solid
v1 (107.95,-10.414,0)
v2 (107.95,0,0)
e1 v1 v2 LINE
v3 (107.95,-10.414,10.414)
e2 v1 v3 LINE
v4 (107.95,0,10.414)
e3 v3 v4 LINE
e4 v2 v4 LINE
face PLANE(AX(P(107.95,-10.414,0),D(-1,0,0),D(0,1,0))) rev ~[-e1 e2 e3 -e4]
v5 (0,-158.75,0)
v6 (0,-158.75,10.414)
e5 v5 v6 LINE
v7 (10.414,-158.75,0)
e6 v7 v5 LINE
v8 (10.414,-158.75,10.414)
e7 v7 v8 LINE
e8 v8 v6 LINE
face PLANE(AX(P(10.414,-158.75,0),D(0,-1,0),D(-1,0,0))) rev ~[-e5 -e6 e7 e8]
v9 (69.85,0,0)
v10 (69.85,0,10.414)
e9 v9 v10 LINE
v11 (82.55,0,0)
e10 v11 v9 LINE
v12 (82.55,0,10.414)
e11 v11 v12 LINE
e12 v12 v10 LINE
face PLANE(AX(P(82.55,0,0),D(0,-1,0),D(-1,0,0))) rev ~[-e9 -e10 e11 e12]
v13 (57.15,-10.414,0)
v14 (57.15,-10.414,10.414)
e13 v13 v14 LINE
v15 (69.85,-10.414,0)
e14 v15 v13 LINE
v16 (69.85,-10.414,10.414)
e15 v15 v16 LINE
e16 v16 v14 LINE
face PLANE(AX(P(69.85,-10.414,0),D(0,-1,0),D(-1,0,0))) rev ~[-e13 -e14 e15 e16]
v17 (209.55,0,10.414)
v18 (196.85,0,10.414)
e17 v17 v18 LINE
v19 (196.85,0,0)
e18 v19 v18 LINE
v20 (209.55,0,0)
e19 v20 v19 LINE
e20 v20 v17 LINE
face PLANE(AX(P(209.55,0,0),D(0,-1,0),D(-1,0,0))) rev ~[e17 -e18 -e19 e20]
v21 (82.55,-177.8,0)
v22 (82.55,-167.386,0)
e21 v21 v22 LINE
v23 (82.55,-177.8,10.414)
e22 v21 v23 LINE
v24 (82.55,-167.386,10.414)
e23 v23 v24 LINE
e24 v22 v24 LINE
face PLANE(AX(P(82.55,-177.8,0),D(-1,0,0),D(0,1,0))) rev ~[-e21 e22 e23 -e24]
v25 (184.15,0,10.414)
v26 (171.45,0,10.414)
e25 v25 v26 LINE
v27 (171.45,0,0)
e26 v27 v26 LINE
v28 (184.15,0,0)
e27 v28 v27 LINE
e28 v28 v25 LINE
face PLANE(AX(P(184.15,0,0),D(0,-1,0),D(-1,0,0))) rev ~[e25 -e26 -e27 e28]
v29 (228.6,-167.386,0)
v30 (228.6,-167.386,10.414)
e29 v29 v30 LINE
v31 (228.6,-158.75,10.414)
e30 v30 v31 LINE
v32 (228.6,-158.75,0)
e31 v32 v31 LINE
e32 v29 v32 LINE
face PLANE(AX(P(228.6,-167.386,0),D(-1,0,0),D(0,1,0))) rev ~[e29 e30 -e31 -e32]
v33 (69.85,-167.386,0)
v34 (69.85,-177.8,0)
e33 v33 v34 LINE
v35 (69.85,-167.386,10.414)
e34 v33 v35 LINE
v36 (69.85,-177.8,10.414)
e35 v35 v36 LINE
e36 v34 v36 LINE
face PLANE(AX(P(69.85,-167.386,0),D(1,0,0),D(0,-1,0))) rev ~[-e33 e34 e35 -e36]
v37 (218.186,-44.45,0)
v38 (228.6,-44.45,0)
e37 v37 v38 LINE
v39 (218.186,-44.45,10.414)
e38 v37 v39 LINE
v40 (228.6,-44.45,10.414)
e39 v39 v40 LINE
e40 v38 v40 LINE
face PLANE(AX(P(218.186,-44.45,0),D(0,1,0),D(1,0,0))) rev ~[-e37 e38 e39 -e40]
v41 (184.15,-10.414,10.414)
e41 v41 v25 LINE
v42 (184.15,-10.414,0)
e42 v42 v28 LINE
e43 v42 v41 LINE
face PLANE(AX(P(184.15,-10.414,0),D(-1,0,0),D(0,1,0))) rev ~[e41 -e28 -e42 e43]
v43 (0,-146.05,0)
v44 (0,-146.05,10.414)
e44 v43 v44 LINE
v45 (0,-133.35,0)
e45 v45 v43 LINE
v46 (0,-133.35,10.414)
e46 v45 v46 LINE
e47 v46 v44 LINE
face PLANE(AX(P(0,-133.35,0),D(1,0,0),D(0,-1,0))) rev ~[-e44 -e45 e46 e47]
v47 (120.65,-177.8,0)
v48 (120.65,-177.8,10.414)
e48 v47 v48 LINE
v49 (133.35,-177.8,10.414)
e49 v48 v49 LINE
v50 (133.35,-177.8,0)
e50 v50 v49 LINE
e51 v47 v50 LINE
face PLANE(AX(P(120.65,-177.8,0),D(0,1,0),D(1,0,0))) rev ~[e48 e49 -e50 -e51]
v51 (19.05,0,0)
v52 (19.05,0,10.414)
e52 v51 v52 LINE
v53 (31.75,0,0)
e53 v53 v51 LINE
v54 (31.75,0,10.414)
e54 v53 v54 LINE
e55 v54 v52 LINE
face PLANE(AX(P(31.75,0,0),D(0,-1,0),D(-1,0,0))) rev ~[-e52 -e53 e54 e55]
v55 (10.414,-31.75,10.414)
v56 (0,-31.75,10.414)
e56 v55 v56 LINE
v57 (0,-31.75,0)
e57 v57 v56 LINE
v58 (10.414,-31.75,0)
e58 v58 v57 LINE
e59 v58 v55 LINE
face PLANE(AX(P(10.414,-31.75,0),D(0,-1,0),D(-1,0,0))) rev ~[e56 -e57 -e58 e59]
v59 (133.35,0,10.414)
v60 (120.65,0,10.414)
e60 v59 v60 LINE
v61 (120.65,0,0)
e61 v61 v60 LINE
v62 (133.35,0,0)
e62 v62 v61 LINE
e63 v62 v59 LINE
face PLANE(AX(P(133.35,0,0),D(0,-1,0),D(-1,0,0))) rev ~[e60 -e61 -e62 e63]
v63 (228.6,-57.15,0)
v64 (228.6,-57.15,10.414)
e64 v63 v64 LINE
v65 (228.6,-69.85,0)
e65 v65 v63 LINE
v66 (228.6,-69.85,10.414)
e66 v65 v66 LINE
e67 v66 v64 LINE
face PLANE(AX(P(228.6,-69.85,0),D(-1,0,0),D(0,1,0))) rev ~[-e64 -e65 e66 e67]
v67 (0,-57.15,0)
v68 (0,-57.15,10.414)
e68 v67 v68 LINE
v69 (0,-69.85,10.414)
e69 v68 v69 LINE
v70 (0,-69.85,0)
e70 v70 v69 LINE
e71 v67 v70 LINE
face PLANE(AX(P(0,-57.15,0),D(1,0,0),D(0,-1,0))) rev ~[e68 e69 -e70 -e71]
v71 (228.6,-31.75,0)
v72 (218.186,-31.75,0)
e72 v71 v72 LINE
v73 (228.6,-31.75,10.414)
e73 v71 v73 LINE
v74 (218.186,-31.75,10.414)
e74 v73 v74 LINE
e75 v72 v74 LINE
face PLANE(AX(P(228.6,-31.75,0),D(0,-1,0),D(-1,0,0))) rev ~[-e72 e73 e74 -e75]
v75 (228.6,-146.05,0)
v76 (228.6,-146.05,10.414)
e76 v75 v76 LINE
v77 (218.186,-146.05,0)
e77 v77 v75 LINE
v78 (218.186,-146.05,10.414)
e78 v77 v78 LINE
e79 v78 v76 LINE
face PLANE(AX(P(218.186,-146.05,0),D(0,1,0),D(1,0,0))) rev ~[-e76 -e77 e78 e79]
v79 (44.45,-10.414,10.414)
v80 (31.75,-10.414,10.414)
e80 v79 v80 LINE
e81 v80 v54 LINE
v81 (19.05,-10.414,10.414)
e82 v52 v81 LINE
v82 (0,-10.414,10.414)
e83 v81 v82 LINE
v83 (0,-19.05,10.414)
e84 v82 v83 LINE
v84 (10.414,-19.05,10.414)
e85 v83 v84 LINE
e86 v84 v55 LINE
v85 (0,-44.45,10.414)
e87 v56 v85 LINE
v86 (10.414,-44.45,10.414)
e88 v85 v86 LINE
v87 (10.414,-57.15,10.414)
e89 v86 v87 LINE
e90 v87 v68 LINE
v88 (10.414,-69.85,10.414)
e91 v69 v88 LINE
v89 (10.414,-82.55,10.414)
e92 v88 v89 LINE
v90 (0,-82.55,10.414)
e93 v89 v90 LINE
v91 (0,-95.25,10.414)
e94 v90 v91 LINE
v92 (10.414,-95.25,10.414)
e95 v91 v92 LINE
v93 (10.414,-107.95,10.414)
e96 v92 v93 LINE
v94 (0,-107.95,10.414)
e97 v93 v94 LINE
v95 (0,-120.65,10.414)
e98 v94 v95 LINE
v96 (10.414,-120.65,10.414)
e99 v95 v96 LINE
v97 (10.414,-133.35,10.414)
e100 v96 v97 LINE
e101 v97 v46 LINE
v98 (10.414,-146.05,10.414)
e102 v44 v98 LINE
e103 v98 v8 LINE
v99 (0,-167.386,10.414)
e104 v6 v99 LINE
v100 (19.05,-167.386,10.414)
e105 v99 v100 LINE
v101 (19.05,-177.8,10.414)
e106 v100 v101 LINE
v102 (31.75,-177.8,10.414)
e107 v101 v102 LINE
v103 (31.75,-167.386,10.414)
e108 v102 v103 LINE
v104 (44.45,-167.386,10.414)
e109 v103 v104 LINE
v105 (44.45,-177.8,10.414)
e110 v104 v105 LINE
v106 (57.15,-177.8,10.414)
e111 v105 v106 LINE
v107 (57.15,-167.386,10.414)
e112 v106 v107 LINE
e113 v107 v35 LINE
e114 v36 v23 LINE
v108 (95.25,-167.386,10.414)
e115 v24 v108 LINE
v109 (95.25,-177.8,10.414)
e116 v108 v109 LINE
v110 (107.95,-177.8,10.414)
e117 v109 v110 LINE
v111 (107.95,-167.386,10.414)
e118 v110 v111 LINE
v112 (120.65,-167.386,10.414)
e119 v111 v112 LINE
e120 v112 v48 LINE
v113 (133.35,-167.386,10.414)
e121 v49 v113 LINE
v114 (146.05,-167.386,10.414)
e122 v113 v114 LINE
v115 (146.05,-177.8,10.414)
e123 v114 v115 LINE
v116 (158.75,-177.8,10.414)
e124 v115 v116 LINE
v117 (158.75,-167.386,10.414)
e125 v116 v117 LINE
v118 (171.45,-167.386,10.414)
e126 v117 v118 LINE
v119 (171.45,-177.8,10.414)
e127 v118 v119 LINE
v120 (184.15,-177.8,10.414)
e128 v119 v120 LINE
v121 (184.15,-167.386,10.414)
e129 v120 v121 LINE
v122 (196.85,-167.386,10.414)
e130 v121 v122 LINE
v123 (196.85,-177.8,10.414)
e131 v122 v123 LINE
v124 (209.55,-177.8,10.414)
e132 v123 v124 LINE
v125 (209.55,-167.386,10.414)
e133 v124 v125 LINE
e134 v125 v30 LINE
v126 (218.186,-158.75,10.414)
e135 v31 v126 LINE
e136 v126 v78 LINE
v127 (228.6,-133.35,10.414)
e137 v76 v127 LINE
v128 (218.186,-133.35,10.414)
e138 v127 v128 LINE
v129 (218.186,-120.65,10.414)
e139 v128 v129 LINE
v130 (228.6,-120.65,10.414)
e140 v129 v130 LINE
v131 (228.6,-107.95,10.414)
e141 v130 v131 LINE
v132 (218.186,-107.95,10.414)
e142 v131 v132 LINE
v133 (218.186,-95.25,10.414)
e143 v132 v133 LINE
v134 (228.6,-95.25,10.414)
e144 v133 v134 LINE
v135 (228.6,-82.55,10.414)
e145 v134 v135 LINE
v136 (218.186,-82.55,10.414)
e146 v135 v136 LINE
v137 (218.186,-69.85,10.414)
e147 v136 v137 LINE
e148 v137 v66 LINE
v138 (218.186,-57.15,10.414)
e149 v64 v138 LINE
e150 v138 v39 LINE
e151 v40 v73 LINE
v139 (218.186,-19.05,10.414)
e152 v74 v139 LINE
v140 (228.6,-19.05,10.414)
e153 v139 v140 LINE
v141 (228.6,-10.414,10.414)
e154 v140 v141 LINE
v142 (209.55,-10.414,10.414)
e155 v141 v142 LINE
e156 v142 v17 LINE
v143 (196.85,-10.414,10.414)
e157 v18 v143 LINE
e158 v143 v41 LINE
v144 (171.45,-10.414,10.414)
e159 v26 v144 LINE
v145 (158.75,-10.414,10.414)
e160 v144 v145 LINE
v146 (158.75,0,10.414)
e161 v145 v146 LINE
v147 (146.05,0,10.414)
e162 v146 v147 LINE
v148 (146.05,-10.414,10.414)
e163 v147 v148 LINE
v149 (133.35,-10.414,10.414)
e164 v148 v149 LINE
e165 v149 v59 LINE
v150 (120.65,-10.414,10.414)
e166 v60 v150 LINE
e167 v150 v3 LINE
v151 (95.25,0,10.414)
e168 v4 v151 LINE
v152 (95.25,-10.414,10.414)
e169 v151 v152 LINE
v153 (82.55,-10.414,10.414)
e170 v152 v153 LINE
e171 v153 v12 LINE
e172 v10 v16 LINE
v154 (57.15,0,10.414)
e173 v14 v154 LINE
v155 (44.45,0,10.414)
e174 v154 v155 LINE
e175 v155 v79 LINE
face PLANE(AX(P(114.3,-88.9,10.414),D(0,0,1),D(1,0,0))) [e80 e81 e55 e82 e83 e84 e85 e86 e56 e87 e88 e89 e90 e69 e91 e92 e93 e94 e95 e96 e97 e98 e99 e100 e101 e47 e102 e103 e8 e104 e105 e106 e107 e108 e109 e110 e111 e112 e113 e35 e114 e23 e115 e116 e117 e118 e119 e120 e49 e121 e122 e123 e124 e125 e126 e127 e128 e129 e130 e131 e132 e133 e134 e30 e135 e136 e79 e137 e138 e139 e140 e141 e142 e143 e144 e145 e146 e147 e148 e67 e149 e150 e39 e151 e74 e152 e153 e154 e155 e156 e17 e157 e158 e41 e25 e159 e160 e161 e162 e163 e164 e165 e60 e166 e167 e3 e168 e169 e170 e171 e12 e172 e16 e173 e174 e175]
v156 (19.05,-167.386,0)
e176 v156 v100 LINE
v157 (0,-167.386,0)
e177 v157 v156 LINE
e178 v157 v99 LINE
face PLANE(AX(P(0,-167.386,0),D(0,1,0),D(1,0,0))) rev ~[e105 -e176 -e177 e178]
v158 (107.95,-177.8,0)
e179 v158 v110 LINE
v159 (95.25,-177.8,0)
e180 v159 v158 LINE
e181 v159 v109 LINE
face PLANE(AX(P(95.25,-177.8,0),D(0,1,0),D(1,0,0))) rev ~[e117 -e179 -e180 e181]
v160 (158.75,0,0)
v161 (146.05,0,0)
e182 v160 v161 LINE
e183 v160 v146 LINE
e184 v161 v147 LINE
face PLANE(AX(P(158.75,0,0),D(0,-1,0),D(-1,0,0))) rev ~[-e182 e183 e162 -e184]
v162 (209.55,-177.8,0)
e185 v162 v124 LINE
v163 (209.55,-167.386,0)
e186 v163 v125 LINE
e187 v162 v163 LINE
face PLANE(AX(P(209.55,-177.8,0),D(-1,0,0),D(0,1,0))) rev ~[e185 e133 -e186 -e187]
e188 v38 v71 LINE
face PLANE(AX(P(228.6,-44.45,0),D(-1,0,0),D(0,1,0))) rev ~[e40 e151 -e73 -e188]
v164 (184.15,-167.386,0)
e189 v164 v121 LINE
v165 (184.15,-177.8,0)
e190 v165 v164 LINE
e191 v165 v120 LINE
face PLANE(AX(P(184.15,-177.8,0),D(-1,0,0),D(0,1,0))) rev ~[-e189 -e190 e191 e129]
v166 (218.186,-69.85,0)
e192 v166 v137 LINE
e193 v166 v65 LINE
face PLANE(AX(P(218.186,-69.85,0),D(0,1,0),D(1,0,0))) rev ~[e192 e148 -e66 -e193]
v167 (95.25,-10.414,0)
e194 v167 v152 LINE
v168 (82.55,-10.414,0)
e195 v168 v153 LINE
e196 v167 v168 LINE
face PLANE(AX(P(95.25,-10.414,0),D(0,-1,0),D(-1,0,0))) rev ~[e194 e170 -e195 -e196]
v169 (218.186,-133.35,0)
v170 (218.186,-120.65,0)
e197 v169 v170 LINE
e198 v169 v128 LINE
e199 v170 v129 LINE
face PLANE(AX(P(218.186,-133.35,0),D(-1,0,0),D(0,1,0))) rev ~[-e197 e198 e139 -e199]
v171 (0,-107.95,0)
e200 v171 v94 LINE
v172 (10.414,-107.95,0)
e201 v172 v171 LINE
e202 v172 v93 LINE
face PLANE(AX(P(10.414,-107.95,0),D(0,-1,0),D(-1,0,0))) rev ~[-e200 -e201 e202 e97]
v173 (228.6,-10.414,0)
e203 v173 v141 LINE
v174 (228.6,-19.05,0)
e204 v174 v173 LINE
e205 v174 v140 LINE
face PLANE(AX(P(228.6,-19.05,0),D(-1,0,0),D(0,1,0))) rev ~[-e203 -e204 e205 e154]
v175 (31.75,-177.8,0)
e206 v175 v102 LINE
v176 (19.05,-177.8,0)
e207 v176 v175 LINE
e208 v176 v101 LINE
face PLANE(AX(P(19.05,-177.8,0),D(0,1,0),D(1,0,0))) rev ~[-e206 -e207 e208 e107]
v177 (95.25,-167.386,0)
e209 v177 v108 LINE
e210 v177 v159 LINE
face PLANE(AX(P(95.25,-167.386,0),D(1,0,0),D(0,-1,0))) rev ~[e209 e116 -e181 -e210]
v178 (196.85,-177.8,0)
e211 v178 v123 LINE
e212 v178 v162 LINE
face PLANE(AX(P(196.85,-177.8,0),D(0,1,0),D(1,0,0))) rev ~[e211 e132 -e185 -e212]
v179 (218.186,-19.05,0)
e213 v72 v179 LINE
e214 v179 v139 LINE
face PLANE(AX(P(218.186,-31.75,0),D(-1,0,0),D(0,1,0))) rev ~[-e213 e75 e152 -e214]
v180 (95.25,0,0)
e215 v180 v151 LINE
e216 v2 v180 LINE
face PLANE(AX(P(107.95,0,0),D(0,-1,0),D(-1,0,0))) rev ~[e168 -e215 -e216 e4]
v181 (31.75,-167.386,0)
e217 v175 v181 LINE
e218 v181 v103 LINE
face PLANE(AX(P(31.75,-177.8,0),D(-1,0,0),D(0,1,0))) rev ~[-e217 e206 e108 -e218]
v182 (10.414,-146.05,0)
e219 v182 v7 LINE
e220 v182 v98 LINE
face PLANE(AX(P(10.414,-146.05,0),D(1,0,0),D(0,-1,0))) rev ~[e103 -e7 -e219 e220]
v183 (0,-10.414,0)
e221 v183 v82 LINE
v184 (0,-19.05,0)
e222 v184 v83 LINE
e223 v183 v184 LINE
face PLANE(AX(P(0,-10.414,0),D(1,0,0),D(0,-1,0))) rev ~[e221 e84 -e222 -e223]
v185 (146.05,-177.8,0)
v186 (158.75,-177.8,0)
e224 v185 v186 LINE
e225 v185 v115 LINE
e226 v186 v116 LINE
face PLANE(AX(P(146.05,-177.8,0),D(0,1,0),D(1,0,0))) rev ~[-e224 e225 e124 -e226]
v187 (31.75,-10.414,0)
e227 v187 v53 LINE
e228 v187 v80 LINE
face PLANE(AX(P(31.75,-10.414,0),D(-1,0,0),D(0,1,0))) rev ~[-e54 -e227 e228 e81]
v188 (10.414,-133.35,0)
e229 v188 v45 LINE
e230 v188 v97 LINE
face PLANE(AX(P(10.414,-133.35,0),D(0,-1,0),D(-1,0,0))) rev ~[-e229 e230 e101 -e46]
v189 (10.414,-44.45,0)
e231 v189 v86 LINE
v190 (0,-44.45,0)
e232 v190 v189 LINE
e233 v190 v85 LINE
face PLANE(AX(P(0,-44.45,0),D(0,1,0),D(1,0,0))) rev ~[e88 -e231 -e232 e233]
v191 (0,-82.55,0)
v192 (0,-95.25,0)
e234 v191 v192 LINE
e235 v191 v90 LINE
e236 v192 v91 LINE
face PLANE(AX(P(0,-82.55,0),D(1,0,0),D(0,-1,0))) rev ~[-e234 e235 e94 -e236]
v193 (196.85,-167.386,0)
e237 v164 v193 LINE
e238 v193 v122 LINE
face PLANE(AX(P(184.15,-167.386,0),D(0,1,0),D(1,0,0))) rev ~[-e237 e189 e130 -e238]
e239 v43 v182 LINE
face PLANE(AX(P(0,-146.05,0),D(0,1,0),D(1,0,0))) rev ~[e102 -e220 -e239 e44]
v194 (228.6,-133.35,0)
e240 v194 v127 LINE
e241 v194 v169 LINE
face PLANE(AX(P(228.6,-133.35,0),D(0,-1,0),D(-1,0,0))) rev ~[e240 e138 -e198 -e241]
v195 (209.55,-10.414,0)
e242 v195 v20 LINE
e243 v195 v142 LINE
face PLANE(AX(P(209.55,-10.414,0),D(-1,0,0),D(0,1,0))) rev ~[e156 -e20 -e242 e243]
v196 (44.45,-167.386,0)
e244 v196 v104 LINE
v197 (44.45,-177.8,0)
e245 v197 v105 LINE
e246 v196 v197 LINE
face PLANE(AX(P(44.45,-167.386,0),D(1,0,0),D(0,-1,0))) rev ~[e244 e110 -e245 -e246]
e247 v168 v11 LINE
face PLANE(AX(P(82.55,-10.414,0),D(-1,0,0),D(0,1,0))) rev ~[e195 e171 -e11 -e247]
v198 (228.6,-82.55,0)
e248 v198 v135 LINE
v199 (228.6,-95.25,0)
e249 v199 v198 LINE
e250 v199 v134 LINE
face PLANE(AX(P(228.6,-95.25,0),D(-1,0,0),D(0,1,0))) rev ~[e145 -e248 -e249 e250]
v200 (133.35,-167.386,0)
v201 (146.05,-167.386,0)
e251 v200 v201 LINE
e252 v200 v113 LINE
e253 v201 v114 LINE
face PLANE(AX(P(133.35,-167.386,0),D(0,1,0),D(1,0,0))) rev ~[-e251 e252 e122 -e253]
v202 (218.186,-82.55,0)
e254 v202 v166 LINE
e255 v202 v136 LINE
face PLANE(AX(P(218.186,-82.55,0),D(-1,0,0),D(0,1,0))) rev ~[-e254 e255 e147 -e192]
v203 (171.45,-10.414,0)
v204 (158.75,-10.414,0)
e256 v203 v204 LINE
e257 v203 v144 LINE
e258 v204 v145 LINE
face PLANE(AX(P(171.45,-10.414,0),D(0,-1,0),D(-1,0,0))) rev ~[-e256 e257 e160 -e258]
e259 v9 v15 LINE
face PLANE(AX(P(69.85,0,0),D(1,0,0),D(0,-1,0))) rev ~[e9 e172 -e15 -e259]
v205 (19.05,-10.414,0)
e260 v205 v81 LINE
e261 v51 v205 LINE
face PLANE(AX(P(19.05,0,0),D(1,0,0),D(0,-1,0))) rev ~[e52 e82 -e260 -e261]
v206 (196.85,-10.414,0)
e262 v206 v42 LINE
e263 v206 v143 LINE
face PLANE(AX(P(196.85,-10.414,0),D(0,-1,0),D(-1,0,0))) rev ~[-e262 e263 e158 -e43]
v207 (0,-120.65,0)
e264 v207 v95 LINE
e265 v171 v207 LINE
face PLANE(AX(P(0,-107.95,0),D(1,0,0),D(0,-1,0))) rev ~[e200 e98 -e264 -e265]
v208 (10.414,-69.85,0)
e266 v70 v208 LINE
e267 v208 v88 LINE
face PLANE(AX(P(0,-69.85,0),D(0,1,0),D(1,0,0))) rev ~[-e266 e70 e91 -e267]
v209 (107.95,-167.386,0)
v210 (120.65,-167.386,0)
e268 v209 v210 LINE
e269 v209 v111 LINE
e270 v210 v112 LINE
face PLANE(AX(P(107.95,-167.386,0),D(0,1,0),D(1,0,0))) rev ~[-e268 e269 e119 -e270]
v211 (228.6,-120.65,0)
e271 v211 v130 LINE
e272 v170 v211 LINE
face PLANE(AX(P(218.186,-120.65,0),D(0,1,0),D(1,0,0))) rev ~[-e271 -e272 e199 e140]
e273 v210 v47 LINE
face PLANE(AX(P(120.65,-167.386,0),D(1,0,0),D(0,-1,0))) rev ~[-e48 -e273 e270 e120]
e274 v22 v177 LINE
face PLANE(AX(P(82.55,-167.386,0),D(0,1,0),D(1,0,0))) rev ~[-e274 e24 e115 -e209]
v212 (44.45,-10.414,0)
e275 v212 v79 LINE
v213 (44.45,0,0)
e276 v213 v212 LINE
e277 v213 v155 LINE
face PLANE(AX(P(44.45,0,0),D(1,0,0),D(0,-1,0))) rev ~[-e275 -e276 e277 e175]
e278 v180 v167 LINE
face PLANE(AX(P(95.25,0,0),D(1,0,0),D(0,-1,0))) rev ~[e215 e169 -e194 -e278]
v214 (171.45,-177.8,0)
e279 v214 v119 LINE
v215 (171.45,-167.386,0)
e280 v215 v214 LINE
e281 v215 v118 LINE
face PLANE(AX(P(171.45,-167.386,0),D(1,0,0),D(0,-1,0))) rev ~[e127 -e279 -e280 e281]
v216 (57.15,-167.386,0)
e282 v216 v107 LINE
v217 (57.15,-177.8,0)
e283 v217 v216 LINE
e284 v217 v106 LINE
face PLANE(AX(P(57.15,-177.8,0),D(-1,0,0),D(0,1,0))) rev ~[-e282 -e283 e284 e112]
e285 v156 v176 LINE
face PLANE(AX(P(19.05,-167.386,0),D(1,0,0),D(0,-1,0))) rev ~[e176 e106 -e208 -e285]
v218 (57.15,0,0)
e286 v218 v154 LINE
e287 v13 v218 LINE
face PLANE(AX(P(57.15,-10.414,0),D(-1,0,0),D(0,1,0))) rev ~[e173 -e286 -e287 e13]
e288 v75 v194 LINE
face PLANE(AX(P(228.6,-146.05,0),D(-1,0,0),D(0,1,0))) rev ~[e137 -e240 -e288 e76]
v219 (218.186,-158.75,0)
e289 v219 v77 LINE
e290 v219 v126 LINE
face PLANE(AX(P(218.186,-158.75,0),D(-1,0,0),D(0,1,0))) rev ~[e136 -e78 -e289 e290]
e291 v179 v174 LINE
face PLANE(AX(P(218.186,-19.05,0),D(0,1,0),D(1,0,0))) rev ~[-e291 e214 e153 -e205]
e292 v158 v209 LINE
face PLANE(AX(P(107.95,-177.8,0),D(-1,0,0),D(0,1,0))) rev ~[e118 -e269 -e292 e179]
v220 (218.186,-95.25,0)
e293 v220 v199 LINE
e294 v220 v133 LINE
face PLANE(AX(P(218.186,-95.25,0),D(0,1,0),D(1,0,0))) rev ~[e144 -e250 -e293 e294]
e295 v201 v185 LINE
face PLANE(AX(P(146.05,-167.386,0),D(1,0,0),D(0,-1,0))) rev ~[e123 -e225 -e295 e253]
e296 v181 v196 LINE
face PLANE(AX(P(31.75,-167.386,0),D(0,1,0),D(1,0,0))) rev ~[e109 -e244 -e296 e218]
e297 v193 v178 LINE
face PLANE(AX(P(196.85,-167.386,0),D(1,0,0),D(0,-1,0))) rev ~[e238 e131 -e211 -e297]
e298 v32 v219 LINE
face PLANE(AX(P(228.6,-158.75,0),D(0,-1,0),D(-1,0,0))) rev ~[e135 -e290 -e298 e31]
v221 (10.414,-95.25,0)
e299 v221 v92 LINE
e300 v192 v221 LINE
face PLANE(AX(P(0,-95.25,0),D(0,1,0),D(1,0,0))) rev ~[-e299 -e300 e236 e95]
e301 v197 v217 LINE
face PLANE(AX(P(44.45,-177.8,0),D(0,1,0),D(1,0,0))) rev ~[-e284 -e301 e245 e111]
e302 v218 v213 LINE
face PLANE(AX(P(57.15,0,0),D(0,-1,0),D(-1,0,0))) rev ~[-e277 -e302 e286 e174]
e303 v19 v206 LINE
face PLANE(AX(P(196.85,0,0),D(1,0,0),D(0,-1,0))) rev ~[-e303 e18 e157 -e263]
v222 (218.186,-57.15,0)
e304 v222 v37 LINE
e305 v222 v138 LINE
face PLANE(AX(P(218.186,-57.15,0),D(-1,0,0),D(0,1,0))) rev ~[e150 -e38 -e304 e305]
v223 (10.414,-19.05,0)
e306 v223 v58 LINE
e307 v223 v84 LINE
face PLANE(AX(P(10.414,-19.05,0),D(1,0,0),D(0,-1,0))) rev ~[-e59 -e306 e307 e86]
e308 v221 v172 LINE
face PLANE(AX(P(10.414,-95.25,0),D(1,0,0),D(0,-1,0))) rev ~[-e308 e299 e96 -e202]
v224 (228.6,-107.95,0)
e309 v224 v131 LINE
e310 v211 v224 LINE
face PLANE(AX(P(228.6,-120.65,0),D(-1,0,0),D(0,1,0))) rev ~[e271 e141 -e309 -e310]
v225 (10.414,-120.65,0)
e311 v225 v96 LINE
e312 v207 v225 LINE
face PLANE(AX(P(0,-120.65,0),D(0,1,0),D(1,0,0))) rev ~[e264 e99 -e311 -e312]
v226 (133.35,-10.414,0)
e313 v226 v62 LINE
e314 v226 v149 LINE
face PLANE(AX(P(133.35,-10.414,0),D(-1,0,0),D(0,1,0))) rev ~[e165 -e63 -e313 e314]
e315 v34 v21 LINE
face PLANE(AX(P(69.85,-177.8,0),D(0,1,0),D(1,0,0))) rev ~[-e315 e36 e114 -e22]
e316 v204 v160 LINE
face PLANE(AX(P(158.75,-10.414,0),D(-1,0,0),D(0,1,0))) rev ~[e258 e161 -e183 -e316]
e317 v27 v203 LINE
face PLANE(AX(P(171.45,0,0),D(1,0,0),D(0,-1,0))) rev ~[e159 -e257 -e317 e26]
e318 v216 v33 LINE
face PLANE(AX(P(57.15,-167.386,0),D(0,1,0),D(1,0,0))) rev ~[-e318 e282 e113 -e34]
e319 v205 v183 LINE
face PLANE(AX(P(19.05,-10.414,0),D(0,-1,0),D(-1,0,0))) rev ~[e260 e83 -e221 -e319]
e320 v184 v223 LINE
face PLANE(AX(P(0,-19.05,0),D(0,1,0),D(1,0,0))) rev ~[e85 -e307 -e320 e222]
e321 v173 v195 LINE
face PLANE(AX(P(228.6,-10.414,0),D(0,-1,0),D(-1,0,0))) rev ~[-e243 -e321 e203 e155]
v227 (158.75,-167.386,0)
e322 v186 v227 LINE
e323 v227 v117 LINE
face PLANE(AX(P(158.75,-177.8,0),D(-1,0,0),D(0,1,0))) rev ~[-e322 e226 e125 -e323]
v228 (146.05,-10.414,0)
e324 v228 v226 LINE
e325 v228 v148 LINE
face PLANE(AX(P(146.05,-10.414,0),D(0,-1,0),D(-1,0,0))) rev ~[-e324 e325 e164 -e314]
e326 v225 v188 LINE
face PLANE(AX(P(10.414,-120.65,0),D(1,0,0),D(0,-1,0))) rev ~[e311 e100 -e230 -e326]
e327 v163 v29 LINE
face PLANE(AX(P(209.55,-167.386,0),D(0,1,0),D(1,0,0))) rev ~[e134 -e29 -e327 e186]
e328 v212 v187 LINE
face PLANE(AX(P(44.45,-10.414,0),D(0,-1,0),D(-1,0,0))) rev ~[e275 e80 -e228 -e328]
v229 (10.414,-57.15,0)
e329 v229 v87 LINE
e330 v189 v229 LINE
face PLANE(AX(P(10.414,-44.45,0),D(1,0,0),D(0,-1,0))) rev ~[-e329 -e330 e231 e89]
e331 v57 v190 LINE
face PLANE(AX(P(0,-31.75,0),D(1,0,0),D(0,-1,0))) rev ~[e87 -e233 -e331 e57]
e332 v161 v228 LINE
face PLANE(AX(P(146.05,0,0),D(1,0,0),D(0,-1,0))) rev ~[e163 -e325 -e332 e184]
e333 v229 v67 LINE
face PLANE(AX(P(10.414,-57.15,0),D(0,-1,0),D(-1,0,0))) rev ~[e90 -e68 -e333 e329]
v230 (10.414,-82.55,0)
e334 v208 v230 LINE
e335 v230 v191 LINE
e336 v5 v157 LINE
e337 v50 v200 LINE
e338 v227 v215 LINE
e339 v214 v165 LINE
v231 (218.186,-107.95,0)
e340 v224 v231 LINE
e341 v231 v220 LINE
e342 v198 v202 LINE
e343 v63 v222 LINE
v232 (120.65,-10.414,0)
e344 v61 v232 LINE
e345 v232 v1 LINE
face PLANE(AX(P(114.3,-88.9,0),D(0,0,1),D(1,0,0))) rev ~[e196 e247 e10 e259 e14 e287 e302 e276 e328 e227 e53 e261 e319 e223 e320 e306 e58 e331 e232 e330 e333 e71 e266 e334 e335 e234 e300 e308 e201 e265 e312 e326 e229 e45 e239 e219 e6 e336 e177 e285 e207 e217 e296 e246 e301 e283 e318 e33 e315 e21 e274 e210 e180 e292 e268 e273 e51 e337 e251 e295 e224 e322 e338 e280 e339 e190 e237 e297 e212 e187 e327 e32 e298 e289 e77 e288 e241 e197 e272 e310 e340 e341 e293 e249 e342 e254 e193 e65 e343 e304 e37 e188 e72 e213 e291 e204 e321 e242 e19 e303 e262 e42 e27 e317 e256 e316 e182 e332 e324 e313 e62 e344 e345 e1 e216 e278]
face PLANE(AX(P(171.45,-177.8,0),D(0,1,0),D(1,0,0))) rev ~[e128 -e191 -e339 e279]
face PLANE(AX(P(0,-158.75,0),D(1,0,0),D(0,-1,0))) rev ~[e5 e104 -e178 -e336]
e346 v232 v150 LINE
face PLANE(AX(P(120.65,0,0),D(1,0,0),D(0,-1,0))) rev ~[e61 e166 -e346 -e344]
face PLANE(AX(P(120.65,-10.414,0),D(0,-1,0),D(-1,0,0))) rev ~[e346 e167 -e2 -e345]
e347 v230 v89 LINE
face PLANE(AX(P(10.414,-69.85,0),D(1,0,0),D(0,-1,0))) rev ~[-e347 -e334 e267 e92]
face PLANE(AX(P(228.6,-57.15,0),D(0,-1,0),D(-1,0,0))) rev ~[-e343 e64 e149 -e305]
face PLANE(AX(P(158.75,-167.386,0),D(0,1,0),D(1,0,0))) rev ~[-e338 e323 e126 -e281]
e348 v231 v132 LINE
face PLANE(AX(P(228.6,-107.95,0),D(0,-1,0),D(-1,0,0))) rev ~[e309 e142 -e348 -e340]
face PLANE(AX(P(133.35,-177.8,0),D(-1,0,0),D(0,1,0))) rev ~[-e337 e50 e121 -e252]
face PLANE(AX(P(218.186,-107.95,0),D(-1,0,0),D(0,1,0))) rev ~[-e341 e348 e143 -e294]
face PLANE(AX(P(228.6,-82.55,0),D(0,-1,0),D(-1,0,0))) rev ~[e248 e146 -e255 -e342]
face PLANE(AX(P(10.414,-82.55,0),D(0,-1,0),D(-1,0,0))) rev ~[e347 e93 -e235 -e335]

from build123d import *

# Parameters (mm, degrees)
F1_DEPTH = 10.414


with BuildPart() as f1:
    # F0 (on Top) → F1 (new body)
    with BuildSketch(Plane.XY):
        Polygon((31.75, 0), (19.05, 0), (19.05, -10.414), (0, -10.414), (0, -19.05), (10.414, -19.05), (10.414, -31.75), (0, -31.75), (0, -44.45), (10.414, -44.45), (10.414, -57.15), (0, -57.15), (0, -69.85), (10.414, -69.85), (10.414, -82.55), (0, -82.55), (0, -95.25), (10.414, -95.25), (10.414, -107.95), (0, -107.95), (0, -120.65), (10.414, -120.65), (10.414, -133.35), (0, -133.35), (0, -146.05), (10.414, -146.05), (10.414, -158.75), (0, -158.75), (0, -167.386), (19.05, -167.386), (19.05, -177.8), (31.75, -177.8), (31.75, -167.386), (44.45, -167.386), (44.45, -177.8), (57.15, -177.8), (57.15, -167.386), (69.85, -167.386), (69.85, -177.8), (82.55, -177.8), (82.55, -167.386), (95.25, -167.386), (95.25, -177.8), (107.95, -177.8), (107.95, -167.386), (120.65, -167.386), (120.65, -177.8), (133.35, -177.8), (133.35, -167.386), (146.05, -167.386), (146.05, -177.8), (158.75, -177.8), (158.75, -167.386), (171.45, -167.386), (171.45, -177.8), (184.15, -177.8), (184.15, -167.386), (196.85, -167.386), (196.85, -177.8), (209.55, -177.8), (209.55, -167.386), (228.6, -167.386), (228.6, -158.75), (218.186, -158.75), (218.186, -146.05), (228.6, -146.05), (228.6, -133.35), (218.186, -133.35), (218.186, -120.65), (228.6, -120.65), (228.6, -107.95), (218.186, -107.95), (218.186, -95.25), (228.6, -95.25), (228.6, -82.55), (218.186, -82.55), (218.186, -69.85), (228.6, -69.85), (228.6, -57.15), (218.186, -57.15), (218.186, -44.45), (228.6, -44.45), (228.6, -31.75), (218.186, -31.75), (218.186, -19.05), (228.6, -19.05), (228.6, -10.414), (209.55, -10.414), (209.55, 0), (196.85, 0), (196.85, -10.414), (184.15, -10.414), (184.15, 0), (171.45, 0), (171.45, -10.414), (158.75, -10.414), (158.75, 0), (146.05, 0), (146.05, -10.414), (133.35, -10.414), (133.35, 0), (120.65, 0), (120.65, -10.414), (107.95, -10.414), (107.95, 0), (95.25, 0), (95.25, -10.414), (82.55, -10.414), (82.55, 0), (69.85, 0), (69.85, -10.414), (57.15, -10.414), (57.15, 0), (44.45, 0), (44.45, -10.414), (31.75, -10.414), align=None)
    extrude(amount=F1_DEPTH)


solid = f1.part
